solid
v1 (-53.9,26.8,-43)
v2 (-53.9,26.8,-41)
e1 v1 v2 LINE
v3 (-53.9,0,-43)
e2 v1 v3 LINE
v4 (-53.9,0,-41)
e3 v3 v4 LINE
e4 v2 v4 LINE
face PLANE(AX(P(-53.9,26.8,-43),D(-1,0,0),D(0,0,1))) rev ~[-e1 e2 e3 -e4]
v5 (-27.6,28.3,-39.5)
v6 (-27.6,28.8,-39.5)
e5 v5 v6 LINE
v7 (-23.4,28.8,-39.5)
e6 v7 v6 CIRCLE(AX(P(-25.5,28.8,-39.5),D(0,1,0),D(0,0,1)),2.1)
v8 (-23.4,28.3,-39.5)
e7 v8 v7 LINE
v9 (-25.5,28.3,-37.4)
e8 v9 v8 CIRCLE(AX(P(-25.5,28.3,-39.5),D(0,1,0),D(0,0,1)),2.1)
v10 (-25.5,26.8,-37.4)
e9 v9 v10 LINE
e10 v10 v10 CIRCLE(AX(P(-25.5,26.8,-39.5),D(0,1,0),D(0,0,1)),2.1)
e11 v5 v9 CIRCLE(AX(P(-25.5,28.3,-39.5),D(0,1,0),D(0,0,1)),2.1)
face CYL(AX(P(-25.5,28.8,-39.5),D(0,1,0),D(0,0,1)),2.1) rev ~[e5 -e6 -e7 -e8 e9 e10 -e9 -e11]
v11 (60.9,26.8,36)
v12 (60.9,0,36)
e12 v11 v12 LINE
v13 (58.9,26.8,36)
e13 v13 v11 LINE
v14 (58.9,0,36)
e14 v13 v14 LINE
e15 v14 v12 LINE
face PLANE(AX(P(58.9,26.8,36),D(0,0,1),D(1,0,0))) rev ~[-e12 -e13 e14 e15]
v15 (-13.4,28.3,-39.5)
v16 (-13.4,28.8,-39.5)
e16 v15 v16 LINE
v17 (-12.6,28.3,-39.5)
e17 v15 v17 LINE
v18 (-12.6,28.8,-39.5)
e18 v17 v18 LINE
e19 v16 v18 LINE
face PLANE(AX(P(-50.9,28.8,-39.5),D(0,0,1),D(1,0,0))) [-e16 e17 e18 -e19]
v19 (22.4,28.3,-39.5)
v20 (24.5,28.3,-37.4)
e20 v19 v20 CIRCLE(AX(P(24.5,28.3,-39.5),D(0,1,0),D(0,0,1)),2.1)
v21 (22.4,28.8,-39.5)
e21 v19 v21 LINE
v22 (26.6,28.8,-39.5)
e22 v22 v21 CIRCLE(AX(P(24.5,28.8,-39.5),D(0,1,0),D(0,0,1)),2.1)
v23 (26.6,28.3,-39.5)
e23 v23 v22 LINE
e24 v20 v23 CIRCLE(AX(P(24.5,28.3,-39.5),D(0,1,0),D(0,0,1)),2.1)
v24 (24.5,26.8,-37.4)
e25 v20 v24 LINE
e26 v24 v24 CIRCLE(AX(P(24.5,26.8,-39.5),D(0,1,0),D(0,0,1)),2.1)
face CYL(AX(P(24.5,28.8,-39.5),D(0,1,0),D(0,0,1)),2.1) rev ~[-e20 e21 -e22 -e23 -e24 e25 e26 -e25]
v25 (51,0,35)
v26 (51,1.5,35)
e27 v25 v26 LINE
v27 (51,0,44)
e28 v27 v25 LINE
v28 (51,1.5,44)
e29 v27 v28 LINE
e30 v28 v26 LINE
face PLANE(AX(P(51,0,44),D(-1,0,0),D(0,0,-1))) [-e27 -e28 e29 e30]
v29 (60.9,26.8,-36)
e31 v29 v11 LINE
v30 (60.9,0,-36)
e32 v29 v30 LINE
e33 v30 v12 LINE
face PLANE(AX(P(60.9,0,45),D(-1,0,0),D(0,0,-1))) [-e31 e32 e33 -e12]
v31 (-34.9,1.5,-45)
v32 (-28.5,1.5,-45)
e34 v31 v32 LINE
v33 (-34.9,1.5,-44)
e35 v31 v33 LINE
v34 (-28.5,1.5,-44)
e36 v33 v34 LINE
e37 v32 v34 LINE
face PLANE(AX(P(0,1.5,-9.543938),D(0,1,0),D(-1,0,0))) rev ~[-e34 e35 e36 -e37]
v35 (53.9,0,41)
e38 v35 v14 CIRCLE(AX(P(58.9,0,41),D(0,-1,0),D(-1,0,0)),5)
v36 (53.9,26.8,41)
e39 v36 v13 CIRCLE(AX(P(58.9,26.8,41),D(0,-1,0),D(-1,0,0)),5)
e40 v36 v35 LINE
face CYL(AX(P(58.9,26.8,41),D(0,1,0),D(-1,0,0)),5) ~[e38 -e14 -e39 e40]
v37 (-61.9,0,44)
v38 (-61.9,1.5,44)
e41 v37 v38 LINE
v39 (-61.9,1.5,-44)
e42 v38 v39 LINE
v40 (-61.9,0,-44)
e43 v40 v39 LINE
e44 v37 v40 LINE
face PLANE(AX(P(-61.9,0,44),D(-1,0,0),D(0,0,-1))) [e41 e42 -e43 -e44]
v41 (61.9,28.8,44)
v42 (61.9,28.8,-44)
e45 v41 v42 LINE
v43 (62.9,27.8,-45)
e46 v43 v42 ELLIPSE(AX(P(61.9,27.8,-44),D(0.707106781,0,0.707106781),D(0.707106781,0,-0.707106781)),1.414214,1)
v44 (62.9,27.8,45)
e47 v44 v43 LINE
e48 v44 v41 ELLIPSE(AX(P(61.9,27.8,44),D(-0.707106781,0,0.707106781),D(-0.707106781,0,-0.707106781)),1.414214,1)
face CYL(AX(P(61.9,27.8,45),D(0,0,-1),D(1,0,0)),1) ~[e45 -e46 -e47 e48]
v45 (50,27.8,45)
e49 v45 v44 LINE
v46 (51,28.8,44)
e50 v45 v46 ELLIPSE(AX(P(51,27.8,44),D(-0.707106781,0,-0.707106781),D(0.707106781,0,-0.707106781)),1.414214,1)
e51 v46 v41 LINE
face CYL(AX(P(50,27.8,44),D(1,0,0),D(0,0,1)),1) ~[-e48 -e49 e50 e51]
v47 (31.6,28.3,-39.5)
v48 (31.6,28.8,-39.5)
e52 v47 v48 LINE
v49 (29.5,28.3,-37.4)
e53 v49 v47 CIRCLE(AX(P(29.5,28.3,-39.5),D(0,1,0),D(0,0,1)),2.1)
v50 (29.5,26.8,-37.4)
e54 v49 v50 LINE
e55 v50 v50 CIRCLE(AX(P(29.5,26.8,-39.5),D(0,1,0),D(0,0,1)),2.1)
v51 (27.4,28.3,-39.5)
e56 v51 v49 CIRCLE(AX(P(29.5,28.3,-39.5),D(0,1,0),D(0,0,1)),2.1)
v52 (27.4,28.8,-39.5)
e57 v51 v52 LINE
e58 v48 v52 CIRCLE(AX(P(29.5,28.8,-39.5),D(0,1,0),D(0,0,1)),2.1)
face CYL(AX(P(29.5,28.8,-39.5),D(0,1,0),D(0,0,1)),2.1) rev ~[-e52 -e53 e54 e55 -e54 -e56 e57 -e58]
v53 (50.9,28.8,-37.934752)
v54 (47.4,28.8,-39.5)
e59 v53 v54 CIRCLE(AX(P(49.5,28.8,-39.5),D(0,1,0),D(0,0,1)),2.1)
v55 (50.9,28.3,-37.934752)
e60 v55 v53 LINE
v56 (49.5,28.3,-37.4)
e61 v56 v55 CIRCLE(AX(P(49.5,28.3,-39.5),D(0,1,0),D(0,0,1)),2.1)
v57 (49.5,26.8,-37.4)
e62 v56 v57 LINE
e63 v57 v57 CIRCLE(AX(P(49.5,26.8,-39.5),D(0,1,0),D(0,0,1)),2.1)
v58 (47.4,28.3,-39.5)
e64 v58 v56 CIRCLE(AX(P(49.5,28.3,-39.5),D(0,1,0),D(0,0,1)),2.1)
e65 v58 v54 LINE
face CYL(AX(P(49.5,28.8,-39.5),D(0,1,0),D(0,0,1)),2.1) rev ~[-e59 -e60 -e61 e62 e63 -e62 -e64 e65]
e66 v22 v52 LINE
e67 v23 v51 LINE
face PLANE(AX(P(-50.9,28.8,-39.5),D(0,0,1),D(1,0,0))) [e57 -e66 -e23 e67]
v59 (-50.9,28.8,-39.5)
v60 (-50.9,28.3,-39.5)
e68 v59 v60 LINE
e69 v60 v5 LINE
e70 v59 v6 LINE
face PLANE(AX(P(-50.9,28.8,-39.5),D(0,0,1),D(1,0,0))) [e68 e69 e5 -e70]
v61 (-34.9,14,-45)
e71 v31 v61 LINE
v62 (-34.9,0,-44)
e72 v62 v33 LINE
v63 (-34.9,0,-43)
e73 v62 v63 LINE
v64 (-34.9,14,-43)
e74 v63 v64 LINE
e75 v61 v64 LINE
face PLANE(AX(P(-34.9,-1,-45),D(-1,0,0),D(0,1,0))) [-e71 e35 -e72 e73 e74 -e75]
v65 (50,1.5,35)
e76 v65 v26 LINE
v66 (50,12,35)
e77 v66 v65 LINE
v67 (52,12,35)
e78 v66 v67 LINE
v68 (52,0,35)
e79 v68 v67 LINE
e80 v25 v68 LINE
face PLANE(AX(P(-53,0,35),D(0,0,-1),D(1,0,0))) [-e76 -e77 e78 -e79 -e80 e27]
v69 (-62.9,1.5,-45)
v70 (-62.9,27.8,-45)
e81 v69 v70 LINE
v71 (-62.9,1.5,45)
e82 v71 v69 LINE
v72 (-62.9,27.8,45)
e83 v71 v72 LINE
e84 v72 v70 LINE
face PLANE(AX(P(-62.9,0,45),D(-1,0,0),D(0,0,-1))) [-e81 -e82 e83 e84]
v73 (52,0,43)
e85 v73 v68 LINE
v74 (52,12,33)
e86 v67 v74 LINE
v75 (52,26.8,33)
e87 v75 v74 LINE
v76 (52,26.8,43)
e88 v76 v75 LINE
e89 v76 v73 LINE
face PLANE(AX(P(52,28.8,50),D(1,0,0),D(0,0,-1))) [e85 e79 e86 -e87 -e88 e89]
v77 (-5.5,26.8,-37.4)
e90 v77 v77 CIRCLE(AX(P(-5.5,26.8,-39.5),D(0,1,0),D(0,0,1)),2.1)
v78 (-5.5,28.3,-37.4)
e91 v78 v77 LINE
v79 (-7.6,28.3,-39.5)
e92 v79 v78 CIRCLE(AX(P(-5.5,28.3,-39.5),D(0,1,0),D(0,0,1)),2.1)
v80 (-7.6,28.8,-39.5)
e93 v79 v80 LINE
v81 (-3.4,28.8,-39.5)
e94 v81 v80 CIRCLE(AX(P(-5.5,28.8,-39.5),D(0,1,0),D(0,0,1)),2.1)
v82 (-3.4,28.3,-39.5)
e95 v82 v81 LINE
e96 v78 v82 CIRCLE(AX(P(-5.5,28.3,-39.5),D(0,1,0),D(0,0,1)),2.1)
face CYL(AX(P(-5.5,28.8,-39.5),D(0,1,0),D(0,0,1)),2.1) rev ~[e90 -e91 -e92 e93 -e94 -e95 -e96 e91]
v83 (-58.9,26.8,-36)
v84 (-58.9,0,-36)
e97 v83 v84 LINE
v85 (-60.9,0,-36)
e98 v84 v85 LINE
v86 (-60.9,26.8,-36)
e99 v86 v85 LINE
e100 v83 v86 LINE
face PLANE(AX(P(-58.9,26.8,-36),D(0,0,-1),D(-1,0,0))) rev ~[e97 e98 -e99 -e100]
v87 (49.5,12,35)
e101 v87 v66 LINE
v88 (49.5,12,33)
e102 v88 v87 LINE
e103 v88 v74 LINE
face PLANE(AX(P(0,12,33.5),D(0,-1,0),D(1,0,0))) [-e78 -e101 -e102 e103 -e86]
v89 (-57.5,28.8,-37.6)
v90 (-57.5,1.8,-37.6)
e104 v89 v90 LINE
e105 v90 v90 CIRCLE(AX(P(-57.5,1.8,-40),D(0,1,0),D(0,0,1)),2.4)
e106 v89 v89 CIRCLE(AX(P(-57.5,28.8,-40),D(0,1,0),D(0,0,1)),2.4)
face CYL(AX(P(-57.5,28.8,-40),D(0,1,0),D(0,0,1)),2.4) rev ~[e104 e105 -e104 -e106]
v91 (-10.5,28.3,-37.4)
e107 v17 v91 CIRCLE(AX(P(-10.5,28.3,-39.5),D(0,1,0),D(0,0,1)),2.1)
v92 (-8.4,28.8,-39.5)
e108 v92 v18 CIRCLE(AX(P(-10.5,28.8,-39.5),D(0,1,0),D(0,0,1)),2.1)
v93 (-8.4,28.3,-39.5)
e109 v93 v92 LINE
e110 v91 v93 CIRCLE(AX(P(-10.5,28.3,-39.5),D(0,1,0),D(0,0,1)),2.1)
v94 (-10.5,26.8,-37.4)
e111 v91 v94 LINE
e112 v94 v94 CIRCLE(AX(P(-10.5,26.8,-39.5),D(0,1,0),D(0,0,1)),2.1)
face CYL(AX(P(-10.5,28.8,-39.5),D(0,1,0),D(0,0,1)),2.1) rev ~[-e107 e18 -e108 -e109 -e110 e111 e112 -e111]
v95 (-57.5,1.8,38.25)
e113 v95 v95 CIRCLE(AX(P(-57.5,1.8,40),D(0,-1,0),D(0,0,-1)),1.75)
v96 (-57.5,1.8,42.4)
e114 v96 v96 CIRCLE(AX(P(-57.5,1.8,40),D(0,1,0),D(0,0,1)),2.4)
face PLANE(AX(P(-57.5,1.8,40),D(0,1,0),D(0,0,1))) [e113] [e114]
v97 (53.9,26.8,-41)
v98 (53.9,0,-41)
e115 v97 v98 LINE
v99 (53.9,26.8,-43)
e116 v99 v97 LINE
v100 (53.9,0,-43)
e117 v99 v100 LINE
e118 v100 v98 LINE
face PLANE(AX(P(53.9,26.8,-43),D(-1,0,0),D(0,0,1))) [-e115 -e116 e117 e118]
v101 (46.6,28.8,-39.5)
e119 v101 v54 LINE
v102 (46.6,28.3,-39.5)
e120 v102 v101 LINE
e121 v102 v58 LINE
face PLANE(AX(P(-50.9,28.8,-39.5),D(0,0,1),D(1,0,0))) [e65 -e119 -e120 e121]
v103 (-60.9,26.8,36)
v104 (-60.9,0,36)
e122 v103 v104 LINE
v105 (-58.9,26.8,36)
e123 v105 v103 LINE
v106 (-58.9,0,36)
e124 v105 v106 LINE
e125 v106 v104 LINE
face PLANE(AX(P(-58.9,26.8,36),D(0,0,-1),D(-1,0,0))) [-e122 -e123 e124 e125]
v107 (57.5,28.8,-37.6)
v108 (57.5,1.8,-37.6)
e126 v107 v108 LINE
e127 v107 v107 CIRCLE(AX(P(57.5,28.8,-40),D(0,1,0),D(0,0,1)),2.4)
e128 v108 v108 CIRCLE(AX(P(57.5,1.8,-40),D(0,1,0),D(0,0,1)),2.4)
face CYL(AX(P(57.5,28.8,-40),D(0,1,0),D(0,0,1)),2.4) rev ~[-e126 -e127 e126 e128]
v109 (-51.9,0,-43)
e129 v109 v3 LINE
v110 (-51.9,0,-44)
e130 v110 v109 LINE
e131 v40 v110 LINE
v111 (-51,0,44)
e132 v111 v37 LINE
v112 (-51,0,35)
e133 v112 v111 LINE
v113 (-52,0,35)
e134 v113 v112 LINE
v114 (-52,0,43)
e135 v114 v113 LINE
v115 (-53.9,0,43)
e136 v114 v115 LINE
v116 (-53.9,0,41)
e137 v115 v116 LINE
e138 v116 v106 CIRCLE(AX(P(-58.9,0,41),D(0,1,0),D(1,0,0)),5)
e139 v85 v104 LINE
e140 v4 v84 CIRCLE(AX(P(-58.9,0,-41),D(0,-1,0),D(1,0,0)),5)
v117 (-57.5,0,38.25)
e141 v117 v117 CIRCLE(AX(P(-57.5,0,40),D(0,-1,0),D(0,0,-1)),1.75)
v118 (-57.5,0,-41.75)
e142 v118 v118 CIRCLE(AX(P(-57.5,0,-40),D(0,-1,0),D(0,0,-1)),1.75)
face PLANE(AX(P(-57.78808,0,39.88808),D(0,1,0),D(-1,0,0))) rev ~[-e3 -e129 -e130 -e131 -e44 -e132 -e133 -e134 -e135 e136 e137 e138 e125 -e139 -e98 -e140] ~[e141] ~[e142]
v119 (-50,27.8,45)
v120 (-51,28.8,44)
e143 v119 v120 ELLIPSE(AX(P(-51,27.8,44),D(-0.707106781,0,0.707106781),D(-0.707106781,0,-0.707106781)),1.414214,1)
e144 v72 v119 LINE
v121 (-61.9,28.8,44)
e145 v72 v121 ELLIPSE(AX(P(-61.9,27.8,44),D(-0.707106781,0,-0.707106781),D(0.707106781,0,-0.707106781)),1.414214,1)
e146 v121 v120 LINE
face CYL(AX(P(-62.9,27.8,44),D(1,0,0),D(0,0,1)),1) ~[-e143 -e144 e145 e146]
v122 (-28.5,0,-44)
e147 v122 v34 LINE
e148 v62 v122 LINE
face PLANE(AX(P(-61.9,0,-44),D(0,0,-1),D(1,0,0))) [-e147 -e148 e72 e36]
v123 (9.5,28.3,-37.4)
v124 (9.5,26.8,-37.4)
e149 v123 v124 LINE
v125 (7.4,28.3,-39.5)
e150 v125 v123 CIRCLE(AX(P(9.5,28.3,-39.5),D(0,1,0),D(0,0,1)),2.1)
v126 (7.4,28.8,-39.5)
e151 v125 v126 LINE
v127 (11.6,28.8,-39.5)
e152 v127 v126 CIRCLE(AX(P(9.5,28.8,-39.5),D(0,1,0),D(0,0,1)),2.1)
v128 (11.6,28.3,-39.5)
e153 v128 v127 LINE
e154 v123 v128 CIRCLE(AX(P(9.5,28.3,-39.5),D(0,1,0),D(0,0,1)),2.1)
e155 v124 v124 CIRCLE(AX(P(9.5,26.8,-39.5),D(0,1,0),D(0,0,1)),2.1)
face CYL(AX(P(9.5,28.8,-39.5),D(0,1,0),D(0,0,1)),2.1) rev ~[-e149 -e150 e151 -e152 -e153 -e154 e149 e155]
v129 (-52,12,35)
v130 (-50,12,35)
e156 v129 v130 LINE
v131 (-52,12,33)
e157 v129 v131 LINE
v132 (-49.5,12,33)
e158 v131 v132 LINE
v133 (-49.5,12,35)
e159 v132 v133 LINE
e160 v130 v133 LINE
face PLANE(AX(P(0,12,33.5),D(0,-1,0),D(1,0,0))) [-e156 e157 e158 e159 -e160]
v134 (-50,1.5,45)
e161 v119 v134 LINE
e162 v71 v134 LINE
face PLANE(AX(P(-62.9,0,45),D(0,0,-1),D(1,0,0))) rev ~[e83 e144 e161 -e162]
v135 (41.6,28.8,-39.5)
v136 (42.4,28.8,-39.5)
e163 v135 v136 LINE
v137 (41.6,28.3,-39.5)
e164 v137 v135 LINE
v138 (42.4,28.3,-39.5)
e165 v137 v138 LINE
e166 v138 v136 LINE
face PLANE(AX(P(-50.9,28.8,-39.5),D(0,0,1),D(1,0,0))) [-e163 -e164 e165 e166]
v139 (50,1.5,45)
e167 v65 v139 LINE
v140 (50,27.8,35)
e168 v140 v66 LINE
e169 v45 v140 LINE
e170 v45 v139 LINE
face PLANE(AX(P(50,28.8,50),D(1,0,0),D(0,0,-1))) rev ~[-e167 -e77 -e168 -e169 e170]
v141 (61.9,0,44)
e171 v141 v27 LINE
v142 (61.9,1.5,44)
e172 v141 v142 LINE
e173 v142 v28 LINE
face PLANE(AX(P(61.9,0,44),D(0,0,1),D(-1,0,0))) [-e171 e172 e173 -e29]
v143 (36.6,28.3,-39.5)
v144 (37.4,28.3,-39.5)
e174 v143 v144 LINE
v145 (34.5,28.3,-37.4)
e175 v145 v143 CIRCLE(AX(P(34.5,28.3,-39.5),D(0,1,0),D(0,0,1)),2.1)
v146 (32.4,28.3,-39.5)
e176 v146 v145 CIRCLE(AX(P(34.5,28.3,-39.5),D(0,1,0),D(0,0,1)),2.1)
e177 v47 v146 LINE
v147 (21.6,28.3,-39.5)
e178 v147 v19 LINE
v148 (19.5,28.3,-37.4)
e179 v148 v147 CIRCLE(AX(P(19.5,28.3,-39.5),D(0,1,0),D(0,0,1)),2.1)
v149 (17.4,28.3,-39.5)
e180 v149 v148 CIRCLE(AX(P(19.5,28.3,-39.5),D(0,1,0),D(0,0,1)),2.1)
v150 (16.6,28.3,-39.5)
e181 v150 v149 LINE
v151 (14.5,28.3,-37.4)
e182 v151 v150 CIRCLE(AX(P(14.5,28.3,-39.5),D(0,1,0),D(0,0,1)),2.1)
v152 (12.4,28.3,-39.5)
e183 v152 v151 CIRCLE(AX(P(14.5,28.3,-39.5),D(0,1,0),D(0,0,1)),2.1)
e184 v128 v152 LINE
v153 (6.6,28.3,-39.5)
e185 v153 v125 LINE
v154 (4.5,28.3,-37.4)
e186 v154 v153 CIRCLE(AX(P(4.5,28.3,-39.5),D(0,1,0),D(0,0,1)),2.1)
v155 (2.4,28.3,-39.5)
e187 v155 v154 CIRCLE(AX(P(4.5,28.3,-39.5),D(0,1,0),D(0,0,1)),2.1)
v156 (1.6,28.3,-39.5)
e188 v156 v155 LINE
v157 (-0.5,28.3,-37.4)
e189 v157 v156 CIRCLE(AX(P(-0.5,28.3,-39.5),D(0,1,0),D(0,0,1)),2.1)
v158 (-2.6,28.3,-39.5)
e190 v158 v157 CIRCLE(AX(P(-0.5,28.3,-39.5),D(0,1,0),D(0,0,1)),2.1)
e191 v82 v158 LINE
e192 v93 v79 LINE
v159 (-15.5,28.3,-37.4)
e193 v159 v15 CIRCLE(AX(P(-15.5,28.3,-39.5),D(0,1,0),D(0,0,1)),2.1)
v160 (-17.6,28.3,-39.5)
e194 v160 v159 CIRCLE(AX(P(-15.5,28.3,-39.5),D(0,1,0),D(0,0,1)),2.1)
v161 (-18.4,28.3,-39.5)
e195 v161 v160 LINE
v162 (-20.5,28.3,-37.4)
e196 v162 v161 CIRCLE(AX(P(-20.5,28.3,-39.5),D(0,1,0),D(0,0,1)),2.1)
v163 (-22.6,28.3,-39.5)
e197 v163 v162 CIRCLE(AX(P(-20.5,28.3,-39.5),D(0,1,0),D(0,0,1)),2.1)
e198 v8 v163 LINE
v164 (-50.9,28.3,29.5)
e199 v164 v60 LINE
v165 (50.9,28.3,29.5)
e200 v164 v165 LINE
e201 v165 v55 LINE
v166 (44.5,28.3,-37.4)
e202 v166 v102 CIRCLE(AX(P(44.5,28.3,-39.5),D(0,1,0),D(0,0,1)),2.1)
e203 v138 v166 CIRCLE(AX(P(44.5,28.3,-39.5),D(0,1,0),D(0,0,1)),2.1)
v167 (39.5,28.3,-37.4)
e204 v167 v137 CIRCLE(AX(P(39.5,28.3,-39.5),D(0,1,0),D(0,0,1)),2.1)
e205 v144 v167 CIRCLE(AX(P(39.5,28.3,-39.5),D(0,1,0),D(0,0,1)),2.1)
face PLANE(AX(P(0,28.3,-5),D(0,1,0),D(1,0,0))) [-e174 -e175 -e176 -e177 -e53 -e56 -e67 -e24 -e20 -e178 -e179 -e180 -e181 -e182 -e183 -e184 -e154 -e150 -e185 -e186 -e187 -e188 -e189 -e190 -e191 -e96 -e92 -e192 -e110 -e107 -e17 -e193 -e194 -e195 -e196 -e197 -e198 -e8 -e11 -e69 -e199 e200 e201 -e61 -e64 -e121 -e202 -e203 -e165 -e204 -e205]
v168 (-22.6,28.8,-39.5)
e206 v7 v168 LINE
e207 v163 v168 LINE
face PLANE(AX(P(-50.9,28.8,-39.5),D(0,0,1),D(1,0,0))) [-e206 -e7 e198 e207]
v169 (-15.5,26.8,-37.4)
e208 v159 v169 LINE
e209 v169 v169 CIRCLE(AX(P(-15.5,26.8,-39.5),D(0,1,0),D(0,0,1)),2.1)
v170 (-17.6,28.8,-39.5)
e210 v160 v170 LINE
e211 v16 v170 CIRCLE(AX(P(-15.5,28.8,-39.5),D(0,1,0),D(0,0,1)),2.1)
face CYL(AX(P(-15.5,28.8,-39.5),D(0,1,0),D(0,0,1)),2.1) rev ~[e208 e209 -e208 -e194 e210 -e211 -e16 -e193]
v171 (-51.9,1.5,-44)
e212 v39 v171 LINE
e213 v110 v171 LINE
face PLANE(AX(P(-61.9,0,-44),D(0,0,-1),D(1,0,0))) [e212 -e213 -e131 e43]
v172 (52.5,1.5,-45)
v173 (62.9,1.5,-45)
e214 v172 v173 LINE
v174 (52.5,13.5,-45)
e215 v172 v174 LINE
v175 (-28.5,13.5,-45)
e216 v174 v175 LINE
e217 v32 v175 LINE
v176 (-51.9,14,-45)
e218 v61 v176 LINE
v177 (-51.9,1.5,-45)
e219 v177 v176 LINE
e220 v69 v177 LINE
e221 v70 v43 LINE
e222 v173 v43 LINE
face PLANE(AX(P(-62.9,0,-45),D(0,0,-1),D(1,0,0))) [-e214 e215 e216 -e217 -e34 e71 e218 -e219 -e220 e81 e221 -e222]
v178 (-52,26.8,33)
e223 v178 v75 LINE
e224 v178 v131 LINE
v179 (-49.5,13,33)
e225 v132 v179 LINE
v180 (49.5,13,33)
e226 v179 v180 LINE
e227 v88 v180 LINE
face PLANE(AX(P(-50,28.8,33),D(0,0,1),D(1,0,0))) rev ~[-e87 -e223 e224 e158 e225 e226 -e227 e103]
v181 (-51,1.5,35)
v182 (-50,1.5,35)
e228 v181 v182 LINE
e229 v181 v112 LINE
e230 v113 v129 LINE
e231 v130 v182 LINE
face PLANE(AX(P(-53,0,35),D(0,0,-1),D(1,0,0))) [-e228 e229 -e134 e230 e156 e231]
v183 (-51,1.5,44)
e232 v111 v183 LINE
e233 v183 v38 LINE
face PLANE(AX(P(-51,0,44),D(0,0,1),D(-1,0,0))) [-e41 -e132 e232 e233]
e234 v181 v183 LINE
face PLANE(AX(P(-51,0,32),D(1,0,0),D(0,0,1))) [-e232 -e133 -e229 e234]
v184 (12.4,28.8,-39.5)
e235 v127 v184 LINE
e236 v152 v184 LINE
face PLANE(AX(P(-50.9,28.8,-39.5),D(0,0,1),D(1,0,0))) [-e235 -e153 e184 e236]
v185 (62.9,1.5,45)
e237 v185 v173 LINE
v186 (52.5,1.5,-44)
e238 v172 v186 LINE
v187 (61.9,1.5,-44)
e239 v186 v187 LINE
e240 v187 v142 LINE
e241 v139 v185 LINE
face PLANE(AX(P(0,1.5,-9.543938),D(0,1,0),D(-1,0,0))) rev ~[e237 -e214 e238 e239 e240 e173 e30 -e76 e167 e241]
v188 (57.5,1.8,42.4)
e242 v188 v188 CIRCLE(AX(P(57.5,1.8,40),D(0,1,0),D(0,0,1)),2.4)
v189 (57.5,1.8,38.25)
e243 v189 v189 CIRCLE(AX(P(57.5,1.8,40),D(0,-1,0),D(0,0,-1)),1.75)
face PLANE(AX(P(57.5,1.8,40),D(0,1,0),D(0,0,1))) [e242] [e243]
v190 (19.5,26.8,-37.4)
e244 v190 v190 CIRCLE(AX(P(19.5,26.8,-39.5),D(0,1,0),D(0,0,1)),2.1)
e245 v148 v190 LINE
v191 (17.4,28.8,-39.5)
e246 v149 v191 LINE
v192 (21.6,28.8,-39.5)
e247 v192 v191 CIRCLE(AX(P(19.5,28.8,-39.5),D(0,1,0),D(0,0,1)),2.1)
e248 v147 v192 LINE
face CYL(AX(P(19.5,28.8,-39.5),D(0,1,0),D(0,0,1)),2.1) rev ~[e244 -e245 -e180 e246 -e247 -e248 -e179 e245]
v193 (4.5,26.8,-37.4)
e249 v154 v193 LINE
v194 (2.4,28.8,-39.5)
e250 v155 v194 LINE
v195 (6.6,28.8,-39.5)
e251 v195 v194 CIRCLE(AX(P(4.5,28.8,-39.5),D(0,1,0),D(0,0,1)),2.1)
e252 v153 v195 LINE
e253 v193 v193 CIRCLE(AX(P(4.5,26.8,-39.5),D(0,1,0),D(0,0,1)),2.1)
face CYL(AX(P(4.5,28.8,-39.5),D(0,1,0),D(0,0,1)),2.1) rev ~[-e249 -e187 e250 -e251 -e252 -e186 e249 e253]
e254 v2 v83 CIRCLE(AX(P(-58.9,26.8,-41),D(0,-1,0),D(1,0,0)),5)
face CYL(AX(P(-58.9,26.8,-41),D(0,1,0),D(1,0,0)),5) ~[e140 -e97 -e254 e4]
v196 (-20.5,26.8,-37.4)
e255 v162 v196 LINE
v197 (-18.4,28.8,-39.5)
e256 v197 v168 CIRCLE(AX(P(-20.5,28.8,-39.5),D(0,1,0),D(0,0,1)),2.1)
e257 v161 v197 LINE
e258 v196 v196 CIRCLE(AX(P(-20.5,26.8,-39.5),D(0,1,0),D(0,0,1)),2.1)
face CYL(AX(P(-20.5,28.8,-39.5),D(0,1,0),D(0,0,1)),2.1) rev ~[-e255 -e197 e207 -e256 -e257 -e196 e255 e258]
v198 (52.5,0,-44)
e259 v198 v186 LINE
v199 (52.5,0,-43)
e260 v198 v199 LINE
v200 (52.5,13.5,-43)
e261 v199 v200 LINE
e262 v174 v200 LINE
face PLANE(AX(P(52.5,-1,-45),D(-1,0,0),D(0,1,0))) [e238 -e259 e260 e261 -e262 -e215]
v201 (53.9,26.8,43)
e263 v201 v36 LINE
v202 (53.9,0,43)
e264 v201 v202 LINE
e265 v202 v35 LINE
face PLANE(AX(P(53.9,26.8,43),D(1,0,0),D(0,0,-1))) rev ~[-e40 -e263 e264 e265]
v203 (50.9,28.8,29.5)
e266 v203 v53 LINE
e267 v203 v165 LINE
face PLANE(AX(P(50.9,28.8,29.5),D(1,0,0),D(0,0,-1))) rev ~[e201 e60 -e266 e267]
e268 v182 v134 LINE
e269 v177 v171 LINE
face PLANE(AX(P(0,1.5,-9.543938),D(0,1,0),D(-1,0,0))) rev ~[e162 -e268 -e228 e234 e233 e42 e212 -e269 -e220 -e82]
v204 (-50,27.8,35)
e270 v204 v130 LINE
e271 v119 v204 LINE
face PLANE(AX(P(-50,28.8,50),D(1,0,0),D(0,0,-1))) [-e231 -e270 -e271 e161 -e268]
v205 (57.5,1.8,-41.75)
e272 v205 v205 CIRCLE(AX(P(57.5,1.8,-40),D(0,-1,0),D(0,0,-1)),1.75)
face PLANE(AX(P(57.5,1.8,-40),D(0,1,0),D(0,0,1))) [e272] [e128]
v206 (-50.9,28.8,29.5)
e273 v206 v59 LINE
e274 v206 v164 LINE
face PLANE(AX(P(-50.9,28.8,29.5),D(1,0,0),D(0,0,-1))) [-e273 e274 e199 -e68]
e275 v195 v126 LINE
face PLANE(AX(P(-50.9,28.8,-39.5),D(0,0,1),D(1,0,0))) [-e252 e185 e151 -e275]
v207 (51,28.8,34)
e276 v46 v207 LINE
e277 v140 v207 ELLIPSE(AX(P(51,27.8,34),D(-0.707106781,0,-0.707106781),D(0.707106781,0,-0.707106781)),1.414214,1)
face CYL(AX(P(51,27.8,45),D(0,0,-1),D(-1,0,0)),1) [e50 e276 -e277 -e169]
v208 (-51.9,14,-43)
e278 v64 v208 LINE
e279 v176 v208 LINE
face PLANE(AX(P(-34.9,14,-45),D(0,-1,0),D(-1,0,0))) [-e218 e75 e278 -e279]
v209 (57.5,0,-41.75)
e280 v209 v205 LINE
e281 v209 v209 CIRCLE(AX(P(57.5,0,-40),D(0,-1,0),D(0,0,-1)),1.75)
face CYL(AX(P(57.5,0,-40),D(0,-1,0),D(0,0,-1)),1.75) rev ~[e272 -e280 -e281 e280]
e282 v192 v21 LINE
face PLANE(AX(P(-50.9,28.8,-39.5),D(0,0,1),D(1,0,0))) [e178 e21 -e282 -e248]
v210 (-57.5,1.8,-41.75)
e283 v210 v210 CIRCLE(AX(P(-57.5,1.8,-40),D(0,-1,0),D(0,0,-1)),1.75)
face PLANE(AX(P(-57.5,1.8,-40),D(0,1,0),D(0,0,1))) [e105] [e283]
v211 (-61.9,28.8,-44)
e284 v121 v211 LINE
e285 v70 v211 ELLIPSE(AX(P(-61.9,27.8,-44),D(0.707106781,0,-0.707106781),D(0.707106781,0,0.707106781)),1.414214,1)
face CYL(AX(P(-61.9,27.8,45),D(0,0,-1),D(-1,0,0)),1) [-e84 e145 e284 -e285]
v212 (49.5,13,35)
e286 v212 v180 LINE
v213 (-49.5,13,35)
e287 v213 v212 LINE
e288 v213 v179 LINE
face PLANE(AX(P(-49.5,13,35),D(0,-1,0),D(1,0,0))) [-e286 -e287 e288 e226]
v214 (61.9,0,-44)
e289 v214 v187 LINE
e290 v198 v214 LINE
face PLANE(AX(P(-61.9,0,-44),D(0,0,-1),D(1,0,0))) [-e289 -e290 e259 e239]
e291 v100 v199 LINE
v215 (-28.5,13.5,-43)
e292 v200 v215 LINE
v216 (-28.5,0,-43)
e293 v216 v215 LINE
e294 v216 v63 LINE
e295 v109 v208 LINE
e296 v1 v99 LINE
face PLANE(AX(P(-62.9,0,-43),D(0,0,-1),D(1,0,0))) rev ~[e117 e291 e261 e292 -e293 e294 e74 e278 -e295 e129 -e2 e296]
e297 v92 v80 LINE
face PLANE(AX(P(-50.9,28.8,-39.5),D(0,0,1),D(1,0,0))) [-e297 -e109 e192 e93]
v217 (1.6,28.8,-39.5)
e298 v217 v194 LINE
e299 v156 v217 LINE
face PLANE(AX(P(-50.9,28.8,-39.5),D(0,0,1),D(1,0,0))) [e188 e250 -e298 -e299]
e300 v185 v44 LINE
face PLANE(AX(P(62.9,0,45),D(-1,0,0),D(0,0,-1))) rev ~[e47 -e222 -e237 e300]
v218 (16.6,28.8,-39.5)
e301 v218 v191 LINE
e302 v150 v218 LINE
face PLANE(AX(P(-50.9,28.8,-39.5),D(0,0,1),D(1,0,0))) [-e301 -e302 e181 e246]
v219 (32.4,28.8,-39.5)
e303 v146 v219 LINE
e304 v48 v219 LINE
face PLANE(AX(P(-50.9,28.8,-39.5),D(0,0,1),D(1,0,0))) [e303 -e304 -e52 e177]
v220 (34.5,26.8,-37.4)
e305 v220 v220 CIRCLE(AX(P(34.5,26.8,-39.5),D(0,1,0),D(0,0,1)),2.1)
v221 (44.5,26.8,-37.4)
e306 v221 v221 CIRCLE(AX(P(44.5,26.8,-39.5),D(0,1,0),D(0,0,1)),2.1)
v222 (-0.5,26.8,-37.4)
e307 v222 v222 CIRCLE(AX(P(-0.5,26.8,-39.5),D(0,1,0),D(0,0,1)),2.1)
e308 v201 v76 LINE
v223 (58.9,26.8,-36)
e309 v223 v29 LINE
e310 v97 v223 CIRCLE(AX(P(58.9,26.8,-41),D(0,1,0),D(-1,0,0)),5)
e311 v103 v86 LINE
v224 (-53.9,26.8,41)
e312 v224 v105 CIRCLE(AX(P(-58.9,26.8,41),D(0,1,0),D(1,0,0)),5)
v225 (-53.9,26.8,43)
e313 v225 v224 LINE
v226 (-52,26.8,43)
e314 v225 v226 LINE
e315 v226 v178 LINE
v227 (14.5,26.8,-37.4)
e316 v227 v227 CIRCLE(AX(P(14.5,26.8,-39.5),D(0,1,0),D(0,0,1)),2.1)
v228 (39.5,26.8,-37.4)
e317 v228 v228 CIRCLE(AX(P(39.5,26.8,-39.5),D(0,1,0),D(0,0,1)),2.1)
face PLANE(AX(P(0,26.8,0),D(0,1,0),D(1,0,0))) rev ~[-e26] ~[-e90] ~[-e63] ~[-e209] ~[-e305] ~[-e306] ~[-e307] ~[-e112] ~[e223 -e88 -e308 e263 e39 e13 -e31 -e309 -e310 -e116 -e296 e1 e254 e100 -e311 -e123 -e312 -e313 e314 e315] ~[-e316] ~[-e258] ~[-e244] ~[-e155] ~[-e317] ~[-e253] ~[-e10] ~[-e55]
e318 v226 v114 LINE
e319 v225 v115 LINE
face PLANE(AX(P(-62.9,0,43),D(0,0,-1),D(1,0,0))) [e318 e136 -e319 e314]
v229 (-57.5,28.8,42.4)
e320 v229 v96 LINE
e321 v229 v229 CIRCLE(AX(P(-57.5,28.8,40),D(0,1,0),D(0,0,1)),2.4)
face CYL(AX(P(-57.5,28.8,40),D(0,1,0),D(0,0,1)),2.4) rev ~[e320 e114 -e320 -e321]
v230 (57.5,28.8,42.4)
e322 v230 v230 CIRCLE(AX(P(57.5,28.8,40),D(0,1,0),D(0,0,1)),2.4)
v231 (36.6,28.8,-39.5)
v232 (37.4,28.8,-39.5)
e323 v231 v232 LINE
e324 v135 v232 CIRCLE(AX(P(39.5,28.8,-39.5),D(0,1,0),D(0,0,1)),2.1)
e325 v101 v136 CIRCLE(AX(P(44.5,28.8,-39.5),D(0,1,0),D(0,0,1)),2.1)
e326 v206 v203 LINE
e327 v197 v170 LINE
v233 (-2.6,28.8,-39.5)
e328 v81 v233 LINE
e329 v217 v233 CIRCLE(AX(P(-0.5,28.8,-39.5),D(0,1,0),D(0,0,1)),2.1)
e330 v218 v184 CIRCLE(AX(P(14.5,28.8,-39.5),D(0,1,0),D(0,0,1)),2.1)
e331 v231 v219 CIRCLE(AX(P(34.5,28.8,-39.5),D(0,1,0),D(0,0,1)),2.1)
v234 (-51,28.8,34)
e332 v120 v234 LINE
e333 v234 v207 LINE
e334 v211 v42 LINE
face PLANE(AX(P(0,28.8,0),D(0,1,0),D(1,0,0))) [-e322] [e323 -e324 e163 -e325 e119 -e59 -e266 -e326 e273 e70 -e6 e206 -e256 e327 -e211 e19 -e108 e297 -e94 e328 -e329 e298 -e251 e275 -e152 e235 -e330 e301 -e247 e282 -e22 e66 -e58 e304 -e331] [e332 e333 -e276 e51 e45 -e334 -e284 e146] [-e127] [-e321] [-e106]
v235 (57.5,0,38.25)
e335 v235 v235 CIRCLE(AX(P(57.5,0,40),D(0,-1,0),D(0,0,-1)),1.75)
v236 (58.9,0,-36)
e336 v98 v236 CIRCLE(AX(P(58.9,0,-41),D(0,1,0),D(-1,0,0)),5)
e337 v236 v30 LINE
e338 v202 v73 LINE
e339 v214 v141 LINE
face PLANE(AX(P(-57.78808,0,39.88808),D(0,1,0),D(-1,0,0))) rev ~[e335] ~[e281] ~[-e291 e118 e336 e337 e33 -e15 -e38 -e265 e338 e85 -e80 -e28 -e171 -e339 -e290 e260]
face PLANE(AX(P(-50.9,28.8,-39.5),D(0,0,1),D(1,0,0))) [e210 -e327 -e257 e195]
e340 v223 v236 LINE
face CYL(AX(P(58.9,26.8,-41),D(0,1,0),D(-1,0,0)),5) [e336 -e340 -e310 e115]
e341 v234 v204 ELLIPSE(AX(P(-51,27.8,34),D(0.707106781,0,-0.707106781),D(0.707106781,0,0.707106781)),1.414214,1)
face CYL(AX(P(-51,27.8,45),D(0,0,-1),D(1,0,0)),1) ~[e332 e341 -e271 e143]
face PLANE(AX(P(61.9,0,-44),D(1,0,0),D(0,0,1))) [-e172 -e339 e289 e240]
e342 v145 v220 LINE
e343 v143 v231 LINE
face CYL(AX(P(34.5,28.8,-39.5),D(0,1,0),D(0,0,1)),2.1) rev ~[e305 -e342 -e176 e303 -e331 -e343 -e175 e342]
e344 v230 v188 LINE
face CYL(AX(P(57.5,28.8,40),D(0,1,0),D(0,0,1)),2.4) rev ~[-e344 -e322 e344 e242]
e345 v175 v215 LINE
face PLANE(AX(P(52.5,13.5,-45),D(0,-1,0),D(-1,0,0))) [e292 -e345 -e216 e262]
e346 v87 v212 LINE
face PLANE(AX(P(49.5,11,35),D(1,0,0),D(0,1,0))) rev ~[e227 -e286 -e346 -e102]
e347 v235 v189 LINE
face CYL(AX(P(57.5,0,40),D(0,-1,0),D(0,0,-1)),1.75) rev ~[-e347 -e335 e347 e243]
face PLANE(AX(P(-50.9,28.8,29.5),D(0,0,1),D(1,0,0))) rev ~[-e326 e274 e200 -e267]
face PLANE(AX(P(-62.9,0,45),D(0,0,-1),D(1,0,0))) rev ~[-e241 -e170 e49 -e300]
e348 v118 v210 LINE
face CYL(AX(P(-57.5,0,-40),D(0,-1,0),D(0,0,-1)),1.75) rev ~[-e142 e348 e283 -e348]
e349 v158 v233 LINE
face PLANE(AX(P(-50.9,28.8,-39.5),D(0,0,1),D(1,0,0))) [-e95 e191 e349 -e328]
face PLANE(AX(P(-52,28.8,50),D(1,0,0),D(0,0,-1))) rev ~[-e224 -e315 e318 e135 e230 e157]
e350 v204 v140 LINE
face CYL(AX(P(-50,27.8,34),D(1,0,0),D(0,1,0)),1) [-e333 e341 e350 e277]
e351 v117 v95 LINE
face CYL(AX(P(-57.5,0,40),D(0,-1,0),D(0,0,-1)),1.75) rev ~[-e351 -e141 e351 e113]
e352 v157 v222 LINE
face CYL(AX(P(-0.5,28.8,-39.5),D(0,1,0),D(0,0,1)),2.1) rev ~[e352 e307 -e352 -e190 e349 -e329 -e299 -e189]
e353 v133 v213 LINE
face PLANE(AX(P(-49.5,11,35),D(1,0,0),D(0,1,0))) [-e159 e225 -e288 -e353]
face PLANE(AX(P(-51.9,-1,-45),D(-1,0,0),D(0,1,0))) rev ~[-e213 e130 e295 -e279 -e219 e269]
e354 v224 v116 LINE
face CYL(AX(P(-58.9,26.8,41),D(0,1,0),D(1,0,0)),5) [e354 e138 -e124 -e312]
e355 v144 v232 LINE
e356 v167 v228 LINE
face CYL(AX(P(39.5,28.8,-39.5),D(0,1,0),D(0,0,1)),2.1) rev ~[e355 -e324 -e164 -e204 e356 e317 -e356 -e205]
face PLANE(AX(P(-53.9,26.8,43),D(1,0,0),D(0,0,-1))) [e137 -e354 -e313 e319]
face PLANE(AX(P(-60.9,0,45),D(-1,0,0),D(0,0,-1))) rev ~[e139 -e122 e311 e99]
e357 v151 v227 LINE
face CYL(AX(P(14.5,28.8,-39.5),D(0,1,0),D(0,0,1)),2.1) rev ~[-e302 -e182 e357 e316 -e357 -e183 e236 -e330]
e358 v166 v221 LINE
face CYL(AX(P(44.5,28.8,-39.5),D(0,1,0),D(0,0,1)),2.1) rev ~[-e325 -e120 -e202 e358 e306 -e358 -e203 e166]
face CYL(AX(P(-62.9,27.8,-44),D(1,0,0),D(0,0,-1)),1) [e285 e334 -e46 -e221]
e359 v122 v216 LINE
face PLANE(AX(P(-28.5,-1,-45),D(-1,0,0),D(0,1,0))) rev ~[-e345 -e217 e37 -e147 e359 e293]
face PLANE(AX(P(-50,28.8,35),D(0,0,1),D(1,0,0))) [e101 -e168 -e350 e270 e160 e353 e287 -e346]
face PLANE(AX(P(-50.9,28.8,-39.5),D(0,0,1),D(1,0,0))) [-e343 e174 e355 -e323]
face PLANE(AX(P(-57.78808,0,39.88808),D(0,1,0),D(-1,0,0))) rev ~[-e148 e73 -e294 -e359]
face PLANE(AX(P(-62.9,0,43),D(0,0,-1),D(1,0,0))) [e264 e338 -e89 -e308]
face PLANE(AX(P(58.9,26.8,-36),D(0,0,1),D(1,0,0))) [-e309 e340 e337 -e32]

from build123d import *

# Parameters (mm, degrees)
SKETCH_1_W             = 125.8
SKETCH_1_H             = 90
EXTRUDE_1_DEPTH        = 28.8
SKETCH_2_W             = 100
SKETCH_2_H             = 15
CUT_EXTRUDE_1_DEPTH    = 83.527874079
SHELL_1_T              = -2
SKETCH_3_W             = 106
SKETCH_3_H             = 3
CUT_EXTRUDE_2_DEPTH    = 12
EXTRUDE_2_DEPTH        = 26.8
SKETCH_5_R             = 1.75
CUT_EXTRUDE_3_DEPTH    = 83.527874079
SKETCH_6_R             = 2.4
CUT_EXTRUDE_4_DEPTH    = 27
SKETCH_7_W             = 101.8
SKETCH_7_H             = 69
CUT_EXTRUDE_5_DEPTH    = 0.5
FILLET_1_R             = 1
CUT_EXTRUDE_6_DEPTH    = 1.5
SKETCH_9_W             = 99
SKETCH_9_H             = 2
CUT_EXTRUDE_7_DEPTH    = 3
SKETCH_10_W            = 17
SKETCH_10_H            = 15
CUT_EXTRUDE_8_DEPTH    = 3
SKETCH_11_W            = 81
SKETCH_11_H            = 14.5
CUT_EXTRUDE_9_DEPTH    = 3
SKETCH_12_R            = 2.1
CUT_EXTRUDE_10_DEPTH   = 3
PATTERN_LINEAR_1_COUNT = 16
PATTERN_LINEAR_1_PITCH = 5


with BuildPart() as part:
    # Эскиз1 → Бобышка-Вытянуть1 (new body)
    with BuildSketch(Plane(origin=(0, 0, 0), x_dir=(1, 0, 0), z_dir=(0, 1, 0))):
        Rectangle(SKETCH_1_W, SKETCH_1_H)
    extrude(amount=EXTRUDE_1_DEPTH)

    # Эскиз2 → Вырез-Вытянуть1 (cut, through all)
    with BuildSketch(Plane(origin=(0, 28.8, 0), x_dir=(1, 0, 0), z_dir=(0, 1, 0))):
        with Locations((0, -42.5)):
            Rectangle(SKETCH_2_W, SKETCH_2_H)
    extrude(amount=-CUT_EXTRUDE_1_DEPTH, mode=Mode.SUBTRACT)

    # Оболочка1
    shell_1_openings = [part.faces().sort_by_distance(p)[0] for p in [
        (0, 0, -3.875217981),
    ]]
    offset(amount=SHELL_1_T, openings=shell_1_openings, kind=Kind.INTERSECTION)

    # Эскиз3 → Вырез-Вытянуть2 (cut)
    with BuildSketch(Plane.XZ):
        with Locations((0, 33.5)):
            Rectangle(SKETCH_3_W, SKETCH_3_H)
    extrude(amount=-CUT_EXTRUDE_2_DEPTH, mode=Mode.SUBTRACT)

    # Эскиз4 → Бобышка-Вытянуть2 (add)
    with BuildSketch(Plane.XZ.offset(-26.8)):
        with BuildLine():
            Line((-60.9, 43), (-53.9, 43))
            Line((-53.9, 43), (-53.9, 41))
            ThreePointArc((-53.9, 41), (-55.364466094, 37.464466094), (-58.9, 36))
            Line((-58.9, 36), (-60.9, 36))
            Line((-60.9, 36), (-60.9, 43))
        make_face()
        with BuildLine():
            Line((60.9, 43), (53.9, 43))
            Line((53.9, 43), (53.9, 41))
            ThreePointArc((53.9, 41), (55.364466094, 37.464466094), (58.9, 36))
            Line((58.9, 36), (60.9, 36))
            Line((60.9, 36), (60.9, 43))
        make_face()
        with BuildLine():
            Line((-60.9, -43), (-53.9, -43))
            Line((-53.9, -43), (-53.9, -41))
            ThreePointArc((-53.9, -41), (-55.364466094, -37.464466094), (-58.9, -36))
            Line((-58.9, -36), (-60.9, -36))
            Line((-60.9, -36), (-60.9, -43))
        make_face()
        with BuildLine():
            Line((60.9, -43), (53.9, -43))
            Line((53.9, -43), (53.9, -41))
            ThreePointArc((53.9, -41), (55.364466094, -37.464466094), (58.9, -36))
            Line((58.9, -36), (60.9, -36))
            Line((60.9, -36), (60.9, -43))
        make_face()
    extrude(amount=EXTRUDE_2_DEPTH)

    # Эскиз5 → Вырез-Вытянуть3 (cut, through all)
    with BuildSketch(Plane.XZ):
        with Locations(Location((-57.5, 40, 0), (0, 0, 270))):
            Circle(SKETCH_5_R)
        with Locations(Location((57.5, 40, 0), (0, 0, 270))):
            Circle(SKETCH_5_R)
        with Locations(Location((57.5, -40, 0), (0, 0, 270))):
            Circle(SKETCH_5_R)
        with Locations(Location((-57.5, -40, 0), (0, 0, 270))):
            Circle(SKETCH_5_R)
    extrude(amount=-CUT_EXTRUDE_3_DEPTH, mode=Mode.SUBTRACT)

    # Эскиз6 → Вырез-Вытянуть4 (cut)
    with BuildSketch(Plane(origin=(0, 28.8, 0), x_dir=(1, 0, 0), z_dir=(0, 1, 0))):
        with Locations(Location((-57.5, 40, 0), (0, 0, 270))):
            Circle(SKETCH_6_R)
        with Locations(Location((57.5, 40, 0), (0, 0, 270))):
            Circle(SKETCH_6_R)
        with Locations(Location((-57.5, -40, 0), (0, 0, 270))):
            Circle(SKETCH_6_R)
        with Locations(Location((57.5, -40, 0), (0, 0, 270))):
            Circle(SKETCH_6_R)
    extrude(amount=-CUT_EXTRUDE_4_DEPTH, mode=Mode.SUBTRACT)

    # Эскиз7 → Вырез-Вытянуть5 (cut)
    with BuildSketch(Plane(origin=(0, 28.8, 0), x_dir=(1, 0, 0), z_dir=(0, 1, 0))):
        with Locations((0, 5)):
            Rectangle(SKETCH_7_W, SKETCH_7_H)
    extrude(amount=-CUT_EXTRUDE_5_DEPTH, mode=Mode.SUBTRACT)

    # Скругление1
    fillet_1_edges = [part.edges().sort_by_distance(p)[0] for p in [
        (62.9, 28.8, 0),
        (0, 28.8, -45),
        (56.45, 28.8, 45),
        (50, 28.8, 40),
        (0, 28.8, 35),
        (-50, 28.8, 40),
        (-62.9, 28.8, 0),
        (-56.45, 28.8, 45),
    ]]
    fillet(fillet_1_edges, radius=FILLET_1_R)

    # Эскиз8 → Вырез-Вытянуть6 (cut)
    with BuildSketch(Plane.XZ):
        Polygon((-51, 32), (-51, 44), (-61.9, 44), (-61.9, -44), (61.9, -44), (61.9, 44), (51, 44), (51, 32), (49, 32), (49, 46), (63.9, 46), (63.9, -46), (-63.9, -46), (-63.9, 46), (-49, 46), (-49, 32), align=None)
    extrude(amount=-CUT_EXTRUDE_6_DEPTH, mode=Mode.SUBTRACT)

    # Эскиз9 → Вырез-Вытянуть7 (cut)
    with BuildSketch(Plane.XY.offset(35)):
        with Locations((0, 12)):
            Rectangle(SKETCH_9_W, SKETCH_9_H)
    extrude(amount=-CUT_EXTRUDE_7_DEPTH, mode=Mode.SUBTRACT)

    # Эскиз10 → Вырез-Вытянуть8 (cut)
    with BuildSketch(Plane(origin=(0, 0, -45), x_dir=(-1, 0, 0), z_dir=(0, 0, -1))):
        with Locations((43.4, 6.5)):
            Rectangle(SKETCH_10_W, SKETCH_10_H)
    extrude(amount=-CUT_EXTRUDE_8_DEPTH, mode=Mode.SUBTRACT)

    # Эскиз11 → Вырез-Вытянуть9 (cut)
    with BuildSketch(Plane(origin=(0, 0, -45), x_dir=(-1, 0, 0), z_dir=(0, 0, -1))):
        with Locations((-12, 6.25)):
            Rectangle(SKETCH_11_W, SKETCH_11_H)
    extrude(amount=-CUT_EXTRUDE_9_DEPTH, mode=Mode.SUBTRACT)

    # Эскиз12 → Вырез-Вытянуть10 (cut)
    with BuildSketch(Plane(origin=(0, 28.8, 0), x_dir=(1, 0, 0), z_dir=(0, 1, 0))):
        with Locations(Location((49.5, 39.5, 0), (0, 0, 270))):
            Circle(SKETCH_12_R)
    cut_extrude_10 = extrude(amount=-CUT_EXTRUDE_10_DEPTH, mode=Mode.SUBTRACT)

    # Линейный массив1: Вырез-Вытянуть10 ×16
    with Locations(*[(-i * PATTERN_LINEAR_1_PITCH, 0, 0) for i in range(1, PATTERN_LINEAR_1_COUNT)]):
        add(cut_extrude_10, mode=Mode.SUBTRACT)


solid = part.part
